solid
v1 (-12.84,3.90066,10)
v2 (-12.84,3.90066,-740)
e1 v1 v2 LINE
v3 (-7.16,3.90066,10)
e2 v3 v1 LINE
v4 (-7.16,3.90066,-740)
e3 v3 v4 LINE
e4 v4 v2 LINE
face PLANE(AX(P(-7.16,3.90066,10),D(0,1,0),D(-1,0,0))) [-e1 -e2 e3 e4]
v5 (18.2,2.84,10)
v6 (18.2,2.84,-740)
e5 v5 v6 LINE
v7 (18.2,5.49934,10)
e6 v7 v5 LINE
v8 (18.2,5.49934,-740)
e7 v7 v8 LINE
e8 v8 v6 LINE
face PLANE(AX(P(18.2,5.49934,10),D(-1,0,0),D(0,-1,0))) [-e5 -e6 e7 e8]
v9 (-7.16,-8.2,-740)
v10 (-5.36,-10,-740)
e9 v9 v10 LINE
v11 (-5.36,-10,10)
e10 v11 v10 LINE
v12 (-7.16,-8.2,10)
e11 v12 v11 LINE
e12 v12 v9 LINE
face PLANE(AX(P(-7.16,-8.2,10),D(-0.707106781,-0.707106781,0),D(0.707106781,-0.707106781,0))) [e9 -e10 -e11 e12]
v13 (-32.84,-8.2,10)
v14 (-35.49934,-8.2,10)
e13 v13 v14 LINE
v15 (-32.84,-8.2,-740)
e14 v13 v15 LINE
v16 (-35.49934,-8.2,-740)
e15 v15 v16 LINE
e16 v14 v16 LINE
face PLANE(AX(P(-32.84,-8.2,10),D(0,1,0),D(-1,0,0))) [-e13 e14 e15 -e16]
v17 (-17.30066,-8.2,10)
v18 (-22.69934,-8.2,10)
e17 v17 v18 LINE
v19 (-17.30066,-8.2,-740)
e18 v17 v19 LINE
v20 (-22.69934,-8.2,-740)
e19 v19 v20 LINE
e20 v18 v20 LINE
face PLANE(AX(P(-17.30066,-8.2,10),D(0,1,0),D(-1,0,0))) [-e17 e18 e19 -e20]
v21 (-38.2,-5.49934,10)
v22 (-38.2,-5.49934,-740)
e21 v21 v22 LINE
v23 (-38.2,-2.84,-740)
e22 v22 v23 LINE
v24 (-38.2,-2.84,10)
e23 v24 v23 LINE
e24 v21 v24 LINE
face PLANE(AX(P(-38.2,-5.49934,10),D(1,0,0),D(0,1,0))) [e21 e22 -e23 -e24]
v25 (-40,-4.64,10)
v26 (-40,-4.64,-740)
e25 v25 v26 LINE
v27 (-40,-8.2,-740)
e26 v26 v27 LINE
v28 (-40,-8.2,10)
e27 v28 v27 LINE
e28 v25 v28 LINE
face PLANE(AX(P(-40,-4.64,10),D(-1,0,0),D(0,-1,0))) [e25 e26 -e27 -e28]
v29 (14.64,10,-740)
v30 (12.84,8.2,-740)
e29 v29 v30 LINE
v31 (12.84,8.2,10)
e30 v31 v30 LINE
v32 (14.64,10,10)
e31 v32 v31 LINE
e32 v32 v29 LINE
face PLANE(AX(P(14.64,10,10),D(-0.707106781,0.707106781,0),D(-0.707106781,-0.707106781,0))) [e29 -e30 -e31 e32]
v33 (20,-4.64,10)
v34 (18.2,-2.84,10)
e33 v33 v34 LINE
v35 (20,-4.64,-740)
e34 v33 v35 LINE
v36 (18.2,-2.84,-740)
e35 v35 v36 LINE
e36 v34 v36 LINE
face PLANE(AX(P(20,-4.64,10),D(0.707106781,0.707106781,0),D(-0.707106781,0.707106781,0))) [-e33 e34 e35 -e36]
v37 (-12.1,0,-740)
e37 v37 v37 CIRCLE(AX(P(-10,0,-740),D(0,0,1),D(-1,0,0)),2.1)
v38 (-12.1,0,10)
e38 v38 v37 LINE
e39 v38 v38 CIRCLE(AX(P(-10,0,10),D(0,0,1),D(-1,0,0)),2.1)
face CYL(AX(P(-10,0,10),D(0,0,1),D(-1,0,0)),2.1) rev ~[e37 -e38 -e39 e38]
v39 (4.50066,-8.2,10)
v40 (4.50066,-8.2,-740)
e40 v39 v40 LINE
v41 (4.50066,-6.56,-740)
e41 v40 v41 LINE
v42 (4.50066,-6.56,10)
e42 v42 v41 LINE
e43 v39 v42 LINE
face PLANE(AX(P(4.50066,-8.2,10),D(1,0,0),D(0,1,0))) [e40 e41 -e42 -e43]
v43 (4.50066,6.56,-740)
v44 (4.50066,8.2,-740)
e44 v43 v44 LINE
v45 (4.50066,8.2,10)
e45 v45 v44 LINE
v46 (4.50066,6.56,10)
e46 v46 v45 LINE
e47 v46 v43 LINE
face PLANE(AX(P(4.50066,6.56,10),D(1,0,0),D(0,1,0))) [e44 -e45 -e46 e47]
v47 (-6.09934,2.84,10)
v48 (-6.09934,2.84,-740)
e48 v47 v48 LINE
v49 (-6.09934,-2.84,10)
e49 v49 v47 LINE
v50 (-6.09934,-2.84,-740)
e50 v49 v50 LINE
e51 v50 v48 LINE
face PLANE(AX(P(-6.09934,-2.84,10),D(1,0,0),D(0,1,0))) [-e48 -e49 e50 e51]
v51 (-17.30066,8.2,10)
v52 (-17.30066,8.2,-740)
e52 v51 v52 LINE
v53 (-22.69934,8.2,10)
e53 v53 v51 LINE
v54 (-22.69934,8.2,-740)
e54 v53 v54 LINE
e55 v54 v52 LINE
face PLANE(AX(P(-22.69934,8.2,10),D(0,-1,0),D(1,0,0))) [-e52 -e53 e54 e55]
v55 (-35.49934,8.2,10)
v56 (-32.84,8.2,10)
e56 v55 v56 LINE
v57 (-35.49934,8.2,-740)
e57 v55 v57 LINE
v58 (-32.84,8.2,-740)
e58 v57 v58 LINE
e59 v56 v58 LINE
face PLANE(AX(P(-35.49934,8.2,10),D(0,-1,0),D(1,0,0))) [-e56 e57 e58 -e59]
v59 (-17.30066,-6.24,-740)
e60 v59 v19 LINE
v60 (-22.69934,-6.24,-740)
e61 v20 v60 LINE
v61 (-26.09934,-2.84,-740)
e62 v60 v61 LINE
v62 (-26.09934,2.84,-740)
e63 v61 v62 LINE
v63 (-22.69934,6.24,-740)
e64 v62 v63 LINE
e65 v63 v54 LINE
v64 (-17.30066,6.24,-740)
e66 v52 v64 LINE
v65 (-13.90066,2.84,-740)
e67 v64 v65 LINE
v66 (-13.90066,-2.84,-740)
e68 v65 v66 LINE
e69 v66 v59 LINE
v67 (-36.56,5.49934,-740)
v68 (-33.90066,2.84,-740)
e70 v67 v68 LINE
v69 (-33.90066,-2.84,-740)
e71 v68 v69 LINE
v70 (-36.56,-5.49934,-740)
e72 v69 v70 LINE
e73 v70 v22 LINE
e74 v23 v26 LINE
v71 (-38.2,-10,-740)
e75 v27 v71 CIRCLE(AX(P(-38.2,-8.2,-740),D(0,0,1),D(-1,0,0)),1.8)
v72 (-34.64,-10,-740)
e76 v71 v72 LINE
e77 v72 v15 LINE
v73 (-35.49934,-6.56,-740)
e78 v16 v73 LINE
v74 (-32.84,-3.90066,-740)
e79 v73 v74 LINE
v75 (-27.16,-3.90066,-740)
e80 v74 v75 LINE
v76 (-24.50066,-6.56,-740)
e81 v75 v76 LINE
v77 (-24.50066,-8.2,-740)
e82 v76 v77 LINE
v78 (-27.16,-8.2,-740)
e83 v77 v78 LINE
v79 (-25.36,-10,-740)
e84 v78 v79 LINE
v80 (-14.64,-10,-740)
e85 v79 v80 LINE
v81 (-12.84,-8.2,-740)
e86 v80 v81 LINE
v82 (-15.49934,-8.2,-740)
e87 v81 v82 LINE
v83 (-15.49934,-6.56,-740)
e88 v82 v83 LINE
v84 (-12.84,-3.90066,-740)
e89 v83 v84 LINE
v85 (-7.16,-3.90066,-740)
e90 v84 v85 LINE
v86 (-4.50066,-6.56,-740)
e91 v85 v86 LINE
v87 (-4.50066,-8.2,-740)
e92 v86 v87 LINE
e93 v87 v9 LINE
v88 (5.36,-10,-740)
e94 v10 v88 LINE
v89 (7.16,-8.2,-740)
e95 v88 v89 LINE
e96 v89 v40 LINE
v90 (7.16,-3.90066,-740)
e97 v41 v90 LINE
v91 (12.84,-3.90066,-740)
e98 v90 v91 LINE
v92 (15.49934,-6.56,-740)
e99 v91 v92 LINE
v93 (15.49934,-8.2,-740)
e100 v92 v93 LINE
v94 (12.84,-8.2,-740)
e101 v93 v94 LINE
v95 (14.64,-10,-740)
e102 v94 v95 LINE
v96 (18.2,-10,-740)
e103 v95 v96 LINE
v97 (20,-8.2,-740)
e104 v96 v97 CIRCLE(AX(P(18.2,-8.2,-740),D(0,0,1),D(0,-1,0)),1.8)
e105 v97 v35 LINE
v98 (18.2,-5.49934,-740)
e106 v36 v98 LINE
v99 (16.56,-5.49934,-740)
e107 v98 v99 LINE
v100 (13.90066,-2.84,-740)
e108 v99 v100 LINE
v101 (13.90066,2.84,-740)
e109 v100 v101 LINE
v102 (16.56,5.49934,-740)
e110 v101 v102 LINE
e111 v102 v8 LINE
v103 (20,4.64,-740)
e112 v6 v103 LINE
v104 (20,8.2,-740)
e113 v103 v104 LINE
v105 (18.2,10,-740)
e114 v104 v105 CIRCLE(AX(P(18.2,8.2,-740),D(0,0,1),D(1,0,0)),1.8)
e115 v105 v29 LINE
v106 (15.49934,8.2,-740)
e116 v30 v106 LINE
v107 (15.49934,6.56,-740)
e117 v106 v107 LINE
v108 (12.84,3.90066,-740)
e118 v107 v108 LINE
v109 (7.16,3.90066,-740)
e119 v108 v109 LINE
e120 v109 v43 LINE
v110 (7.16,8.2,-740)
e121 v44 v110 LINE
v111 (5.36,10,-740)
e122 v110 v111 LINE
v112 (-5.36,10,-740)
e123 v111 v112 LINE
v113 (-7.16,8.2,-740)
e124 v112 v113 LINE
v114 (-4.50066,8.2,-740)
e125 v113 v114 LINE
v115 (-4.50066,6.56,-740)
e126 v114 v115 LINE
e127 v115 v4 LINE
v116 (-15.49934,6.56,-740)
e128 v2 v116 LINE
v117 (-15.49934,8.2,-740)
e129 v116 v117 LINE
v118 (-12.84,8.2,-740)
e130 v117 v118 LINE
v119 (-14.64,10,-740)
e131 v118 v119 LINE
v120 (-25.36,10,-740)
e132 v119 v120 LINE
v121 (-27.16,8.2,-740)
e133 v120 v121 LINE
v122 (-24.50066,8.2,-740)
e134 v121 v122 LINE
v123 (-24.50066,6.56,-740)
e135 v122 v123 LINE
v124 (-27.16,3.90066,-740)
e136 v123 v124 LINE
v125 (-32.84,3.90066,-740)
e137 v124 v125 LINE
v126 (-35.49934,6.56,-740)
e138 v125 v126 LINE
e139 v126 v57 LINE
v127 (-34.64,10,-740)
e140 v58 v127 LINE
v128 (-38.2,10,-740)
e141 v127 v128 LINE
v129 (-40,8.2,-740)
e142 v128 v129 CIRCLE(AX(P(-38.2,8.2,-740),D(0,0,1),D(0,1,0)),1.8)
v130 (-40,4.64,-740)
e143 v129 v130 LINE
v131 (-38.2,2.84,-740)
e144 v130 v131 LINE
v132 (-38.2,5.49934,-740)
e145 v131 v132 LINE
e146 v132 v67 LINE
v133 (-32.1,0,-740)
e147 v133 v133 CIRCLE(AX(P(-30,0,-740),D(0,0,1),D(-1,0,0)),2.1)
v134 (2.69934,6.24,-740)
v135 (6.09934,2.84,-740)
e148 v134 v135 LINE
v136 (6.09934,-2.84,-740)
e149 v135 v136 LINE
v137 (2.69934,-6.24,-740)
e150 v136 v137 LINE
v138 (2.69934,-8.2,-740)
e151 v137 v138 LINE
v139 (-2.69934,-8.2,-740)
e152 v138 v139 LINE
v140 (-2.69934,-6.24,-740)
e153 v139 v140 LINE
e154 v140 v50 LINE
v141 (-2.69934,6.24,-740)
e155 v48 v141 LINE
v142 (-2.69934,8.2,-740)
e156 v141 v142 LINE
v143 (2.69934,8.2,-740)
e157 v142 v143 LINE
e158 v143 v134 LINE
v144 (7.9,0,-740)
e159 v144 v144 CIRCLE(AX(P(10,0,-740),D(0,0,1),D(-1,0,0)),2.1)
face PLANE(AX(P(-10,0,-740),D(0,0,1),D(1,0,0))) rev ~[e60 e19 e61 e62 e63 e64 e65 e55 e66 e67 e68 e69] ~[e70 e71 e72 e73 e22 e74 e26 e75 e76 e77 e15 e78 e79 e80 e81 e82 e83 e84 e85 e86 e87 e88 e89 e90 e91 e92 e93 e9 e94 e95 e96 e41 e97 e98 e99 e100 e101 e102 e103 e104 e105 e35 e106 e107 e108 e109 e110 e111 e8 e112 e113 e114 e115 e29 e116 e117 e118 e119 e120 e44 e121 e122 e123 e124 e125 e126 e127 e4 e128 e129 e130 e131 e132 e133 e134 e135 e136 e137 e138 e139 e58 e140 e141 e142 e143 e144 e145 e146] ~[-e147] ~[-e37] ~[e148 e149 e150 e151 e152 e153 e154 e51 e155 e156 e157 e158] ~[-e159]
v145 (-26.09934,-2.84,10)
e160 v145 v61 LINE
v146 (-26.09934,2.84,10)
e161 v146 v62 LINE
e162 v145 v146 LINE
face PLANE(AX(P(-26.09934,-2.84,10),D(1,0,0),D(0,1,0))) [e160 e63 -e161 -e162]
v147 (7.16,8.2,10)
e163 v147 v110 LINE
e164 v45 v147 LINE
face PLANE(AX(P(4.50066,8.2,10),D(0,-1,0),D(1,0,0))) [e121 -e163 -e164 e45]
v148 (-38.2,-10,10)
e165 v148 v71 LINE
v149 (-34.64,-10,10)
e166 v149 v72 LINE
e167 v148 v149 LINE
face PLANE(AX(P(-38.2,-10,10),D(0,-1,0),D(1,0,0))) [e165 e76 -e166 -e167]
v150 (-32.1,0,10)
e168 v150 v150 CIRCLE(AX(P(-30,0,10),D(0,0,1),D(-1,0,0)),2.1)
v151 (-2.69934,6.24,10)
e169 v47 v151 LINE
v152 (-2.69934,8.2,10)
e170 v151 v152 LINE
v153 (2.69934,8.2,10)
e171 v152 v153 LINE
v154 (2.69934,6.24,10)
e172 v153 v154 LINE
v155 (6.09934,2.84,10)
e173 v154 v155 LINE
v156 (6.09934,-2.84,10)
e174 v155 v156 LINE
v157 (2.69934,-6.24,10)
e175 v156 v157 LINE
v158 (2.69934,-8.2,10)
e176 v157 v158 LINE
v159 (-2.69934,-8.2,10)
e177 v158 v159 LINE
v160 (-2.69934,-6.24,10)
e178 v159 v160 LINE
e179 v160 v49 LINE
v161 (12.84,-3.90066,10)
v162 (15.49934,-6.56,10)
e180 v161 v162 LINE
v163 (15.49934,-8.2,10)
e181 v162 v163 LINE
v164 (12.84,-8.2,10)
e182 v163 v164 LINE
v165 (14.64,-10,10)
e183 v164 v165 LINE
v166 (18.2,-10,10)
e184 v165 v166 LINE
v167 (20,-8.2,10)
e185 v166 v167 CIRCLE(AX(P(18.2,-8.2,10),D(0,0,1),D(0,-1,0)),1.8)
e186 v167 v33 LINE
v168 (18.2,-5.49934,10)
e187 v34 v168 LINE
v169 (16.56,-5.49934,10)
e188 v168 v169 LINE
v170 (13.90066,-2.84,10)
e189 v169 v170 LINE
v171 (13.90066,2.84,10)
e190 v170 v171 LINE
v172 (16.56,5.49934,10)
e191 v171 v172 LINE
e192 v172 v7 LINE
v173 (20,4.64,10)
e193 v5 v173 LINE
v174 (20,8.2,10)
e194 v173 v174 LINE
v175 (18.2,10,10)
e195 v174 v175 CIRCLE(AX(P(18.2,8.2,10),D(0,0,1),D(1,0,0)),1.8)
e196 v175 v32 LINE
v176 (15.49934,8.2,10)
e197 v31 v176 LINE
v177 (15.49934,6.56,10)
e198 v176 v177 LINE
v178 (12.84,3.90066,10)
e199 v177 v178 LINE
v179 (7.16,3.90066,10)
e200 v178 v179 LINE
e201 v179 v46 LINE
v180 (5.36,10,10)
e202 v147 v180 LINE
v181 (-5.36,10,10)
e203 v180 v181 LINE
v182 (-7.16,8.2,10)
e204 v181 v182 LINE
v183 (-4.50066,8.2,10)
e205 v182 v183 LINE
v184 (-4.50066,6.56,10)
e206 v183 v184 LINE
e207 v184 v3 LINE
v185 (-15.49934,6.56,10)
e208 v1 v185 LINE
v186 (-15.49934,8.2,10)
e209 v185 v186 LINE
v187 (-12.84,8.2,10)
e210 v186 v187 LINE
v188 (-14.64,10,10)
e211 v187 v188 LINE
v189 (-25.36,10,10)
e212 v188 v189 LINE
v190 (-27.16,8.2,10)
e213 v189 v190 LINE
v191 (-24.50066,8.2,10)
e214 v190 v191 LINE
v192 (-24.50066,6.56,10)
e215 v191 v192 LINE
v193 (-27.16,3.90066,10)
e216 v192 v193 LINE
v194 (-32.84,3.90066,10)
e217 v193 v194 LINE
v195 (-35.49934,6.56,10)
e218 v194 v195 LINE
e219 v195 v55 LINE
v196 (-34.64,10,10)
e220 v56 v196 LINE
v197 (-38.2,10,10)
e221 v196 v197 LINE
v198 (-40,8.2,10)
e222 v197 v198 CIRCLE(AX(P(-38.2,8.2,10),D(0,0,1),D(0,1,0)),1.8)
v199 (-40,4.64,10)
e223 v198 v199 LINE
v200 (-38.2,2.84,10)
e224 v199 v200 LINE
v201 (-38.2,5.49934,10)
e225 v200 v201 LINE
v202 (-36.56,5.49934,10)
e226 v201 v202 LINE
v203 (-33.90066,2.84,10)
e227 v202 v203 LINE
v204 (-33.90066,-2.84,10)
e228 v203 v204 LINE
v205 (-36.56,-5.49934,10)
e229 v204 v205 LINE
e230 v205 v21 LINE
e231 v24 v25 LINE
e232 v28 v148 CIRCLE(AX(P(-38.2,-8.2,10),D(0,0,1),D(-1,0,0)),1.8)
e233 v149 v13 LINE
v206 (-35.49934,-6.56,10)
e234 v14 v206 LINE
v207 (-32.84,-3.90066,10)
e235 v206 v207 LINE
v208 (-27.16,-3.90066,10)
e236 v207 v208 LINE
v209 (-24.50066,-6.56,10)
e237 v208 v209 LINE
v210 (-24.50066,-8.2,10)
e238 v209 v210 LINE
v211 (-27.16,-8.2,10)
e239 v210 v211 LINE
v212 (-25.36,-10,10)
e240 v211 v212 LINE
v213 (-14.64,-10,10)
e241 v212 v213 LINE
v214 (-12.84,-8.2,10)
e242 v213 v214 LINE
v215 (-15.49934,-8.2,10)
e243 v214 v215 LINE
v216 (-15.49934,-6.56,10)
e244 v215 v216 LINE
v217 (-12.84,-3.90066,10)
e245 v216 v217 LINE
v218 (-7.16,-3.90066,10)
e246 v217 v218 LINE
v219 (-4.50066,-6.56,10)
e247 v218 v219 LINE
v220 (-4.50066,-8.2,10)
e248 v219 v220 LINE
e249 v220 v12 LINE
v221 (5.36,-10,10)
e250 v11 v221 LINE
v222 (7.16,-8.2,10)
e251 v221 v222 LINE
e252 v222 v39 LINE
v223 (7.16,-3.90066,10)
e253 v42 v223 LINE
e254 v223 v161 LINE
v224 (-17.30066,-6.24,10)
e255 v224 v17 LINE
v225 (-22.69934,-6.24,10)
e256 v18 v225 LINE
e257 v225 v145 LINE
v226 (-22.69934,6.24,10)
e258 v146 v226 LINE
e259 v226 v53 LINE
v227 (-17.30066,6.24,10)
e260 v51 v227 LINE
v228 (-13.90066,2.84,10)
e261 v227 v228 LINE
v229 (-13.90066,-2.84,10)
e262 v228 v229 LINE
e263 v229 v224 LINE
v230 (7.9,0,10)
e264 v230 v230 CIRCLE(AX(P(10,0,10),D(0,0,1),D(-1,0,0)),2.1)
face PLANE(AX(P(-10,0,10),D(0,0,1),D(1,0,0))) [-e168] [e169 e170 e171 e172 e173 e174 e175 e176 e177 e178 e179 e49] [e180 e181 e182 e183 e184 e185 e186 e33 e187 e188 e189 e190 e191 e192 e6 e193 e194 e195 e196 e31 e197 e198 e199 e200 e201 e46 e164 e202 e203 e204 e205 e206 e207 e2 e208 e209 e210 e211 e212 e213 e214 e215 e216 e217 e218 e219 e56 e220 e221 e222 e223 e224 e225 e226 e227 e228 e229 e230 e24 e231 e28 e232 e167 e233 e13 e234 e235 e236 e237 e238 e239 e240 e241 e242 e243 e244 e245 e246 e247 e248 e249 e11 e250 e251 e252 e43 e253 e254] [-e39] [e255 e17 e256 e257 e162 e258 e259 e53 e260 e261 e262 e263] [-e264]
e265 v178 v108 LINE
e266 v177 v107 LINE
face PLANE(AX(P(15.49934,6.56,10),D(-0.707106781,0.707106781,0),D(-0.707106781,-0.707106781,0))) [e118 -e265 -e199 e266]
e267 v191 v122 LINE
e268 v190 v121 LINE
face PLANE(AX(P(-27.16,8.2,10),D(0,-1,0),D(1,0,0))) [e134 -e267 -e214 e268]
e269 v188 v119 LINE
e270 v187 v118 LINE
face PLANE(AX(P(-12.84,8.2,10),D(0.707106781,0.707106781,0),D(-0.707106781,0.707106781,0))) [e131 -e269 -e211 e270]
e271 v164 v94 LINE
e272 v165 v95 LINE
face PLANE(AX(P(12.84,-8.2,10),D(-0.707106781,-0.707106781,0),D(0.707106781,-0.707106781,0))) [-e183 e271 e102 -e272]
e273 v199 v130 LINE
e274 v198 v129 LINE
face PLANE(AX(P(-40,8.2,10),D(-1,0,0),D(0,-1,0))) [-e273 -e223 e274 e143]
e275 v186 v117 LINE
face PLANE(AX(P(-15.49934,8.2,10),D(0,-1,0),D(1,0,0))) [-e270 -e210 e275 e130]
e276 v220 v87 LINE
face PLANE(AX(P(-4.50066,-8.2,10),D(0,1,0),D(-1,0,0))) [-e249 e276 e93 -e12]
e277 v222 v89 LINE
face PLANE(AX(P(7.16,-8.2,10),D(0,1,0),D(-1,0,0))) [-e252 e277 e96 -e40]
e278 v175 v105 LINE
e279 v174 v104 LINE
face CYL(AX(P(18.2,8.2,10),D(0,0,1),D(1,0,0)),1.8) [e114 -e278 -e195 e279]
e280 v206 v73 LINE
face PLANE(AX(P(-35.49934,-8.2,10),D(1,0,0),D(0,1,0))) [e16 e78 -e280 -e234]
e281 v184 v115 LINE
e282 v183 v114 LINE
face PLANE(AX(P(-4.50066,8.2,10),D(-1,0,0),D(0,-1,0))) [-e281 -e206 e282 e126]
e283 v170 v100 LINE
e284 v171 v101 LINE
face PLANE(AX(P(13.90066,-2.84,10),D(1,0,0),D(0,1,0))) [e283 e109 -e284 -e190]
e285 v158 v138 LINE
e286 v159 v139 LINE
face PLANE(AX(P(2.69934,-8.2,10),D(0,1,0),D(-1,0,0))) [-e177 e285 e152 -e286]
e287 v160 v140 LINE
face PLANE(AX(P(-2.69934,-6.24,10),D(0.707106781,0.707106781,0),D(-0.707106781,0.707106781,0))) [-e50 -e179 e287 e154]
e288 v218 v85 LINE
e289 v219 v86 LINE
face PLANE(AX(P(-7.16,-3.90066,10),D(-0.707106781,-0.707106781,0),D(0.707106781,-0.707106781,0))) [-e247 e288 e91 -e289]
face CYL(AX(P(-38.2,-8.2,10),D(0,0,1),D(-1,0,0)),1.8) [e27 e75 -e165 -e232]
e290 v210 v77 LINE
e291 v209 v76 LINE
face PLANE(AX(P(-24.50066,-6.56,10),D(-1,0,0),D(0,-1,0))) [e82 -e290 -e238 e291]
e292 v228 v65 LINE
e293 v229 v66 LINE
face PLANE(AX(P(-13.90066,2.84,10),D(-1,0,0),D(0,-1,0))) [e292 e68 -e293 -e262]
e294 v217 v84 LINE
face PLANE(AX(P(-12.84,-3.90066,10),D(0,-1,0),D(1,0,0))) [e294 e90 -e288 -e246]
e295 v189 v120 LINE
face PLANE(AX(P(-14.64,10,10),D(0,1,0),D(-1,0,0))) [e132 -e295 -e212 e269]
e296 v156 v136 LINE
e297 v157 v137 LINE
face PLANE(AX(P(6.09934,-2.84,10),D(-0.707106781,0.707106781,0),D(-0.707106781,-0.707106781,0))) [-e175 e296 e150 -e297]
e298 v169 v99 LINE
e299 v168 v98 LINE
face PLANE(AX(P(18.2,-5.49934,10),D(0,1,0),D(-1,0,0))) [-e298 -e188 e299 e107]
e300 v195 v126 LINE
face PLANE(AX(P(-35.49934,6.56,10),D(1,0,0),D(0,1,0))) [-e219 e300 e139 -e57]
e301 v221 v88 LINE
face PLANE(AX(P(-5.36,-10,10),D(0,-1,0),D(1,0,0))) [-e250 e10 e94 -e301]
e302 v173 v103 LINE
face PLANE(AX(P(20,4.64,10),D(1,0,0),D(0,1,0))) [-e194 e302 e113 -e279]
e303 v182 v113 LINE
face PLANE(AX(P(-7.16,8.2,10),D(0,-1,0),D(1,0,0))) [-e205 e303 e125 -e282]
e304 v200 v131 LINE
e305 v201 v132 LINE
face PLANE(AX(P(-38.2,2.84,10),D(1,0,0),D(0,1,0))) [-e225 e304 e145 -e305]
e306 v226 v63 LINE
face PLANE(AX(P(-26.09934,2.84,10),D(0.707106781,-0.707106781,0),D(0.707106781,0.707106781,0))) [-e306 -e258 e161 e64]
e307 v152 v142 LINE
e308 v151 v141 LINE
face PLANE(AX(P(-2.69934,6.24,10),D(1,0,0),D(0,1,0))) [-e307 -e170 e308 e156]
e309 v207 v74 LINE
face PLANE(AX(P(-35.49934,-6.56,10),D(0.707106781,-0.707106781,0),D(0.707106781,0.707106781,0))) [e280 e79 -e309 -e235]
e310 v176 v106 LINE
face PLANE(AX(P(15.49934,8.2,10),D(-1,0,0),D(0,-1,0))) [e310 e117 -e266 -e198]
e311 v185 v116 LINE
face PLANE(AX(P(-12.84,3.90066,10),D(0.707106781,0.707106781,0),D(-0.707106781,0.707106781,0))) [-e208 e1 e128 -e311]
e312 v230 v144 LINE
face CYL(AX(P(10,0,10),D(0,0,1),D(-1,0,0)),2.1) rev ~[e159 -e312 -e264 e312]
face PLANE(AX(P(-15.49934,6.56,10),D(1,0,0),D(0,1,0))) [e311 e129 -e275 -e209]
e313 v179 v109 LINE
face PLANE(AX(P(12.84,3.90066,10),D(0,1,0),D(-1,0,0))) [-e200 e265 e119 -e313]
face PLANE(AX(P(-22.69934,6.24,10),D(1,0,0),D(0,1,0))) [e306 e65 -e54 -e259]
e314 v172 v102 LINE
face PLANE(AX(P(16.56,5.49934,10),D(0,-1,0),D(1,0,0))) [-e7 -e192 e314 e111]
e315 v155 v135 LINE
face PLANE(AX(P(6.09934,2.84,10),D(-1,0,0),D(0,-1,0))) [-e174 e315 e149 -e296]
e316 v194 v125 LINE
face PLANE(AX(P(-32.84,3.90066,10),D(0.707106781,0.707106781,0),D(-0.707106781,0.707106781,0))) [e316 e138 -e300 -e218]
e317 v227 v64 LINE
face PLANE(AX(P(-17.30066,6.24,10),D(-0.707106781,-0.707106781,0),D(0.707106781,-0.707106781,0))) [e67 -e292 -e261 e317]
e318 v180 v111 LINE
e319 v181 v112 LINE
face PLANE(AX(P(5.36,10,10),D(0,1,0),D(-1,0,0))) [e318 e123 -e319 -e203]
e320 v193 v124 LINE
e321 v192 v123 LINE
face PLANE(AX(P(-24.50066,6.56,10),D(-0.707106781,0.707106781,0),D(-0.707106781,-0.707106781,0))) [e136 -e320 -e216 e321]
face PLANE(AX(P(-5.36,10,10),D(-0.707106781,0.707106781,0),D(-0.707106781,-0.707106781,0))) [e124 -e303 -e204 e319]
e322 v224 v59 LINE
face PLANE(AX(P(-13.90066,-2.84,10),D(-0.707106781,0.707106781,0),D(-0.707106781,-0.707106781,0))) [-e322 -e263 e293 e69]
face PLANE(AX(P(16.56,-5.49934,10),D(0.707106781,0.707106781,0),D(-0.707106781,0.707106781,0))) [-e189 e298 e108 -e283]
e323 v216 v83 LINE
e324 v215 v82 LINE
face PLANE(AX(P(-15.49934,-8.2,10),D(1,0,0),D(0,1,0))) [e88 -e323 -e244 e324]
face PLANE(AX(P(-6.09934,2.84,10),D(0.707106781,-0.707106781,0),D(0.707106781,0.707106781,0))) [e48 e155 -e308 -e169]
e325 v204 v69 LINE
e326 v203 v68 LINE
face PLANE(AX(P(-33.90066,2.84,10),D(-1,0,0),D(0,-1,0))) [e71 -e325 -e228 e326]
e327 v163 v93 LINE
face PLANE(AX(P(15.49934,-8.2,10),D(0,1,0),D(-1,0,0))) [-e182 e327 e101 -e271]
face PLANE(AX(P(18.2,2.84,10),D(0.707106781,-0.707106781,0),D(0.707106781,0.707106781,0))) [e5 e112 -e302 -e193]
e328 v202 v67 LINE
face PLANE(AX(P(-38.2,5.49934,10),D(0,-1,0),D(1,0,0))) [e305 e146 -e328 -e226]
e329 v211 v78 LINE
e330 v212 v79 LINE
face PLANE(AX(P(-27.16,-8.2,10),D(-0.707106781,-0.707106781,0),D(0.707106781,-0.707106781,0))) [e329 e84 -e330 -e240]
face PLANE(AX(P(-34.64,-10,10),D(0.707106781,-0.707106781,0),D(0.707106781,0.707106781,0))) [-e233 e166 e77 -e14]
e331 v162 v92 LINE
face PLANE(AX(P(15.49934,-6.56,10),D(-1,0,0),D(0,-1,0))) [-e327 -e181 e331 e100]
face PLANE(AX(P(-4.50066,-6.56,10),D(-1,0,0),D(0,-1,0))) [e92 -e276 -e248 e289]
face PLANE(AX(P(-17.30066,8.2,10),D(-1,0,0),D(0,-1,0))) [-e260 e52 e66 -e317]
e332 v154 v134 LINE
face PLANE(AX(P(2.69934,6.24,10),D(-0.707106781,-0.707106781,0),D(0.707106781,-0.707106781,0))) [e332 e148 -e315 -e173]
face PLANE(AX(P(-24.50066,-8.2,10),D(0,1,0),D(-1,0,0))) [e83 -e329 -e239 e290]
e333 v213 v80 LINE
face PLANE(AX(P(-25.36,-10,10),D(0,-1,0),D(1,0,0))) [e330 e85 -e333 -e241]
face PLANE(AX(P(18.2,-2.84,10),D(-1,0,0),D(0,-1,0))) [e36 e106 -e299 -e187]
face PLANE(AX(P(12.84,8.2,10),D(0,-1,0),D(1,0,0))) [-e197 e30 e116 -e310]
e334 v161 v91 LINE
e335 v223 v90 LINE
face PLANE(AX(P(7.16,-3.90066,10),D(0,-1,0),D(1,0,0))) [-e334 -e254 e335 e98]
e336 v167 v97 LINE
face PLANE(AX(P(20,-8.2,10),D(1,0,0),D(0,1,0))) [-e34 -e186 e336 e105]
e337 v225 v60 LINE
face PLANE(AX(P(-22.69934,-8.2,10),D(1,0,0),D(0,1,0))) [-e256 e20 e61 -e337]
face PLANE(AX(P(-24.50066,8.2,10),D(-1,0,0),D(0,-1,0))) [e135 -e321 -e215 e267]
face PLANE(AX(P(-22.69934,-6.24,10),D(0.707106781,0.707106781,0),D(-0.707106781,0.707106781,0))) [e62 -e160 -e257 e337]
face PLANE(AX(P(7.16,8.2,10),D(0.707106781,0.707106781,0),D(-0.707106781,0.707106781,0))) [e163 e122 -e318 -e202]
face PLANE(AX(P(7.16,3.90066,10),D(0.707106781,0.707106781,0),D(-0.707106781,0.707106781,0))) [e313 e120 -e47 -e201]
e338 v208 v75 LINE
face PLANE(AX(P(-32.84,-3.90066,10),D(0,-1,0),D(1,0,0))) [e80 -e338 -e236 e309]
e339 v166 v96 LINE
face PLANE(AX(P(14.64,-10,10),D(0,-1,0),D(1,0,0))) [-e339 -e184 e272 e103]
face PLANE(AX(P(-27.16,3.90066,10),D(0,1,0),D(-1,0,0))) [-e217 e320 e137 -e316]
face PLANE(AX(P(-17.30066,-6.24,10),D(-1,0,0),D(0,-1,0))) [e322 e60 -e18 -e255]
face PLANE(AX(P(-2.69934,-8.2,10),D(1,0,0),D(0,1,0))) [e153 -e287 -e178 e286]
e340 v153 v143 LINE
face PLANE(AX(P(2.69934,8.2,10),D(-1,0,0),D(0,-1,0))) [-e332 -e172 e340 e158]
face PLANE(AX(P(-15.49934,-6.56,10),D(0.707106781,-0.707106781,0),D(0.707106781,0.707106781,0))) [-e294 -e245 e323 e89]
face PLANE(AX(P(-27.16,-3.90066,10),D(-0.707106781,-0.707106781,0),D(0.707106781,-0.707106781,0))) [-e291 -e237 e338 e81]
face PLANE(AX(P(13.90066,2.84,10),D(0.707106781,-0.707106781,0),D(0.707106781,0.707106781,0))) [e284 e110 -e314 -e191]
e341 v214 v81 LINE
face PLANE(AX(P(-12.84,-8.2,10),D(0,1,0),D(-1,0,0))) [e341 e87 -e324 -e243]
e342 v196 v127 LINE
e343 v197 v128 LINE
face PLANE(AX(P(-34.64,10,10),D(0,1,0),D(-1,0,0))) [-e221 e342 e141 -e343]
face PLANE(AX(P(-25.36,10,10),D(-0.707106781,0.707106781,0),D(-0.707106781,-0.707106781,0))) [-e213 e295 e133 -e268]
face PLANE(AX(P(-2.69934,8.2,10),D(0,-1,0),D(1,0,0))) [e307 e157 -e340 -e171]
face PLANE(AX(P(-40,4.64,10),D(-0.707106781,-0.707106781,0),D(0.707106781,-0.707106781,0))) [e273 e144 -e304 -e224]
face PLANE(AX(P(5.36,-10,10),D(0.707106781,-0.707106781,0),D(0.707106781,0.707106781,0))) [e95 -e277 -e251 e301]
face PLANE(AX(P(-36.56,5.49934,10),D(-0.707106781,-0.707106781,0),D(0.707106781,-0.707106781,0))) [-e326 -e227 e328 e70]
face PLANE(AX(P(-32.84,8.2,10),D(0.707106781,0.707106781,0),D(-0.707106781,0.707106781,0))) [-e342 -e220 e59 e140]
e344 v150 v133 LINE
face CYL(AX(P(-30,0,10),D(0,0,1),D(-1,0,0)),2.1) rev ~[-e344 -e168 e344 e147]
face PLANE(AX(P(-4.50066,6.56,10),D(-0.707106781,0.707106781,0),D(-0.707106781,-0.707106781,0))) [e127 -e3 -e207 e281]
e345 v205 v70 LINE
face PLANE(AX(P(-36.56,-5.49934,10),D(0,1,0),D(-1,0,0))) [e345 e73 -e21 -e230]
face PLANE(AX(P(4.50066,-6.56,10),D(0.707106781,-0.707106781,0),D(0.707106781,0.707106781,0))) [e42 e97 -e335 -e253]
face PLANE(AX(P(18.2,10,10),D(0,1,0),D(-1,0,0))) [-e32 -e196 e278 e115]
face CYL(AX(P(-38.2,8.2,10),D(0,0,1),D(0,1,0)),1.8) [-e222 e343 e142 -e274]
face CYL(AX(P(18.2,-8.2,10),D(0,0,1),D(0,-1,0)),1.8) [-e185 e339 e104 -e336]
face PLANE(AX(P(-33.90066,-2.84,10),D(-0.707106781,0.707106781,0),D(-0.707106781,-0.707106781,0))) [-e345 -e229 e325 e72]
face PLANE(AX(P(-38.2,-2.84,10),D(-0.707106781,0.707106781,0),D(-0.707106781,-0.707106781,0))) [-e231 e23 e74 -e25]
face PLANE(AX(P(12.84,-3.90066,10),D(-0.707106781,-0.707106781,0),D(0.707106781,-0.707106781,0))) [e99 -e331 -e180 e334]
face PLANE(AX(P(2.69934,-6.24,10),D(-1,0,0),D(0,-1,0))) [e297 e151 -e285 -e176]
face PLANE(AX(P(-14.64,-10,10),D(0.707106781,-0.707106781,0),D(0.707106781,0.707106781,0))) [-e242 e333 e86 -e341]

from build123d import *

# Parameters (mm, degrees)
SKETCH1_R           = 2.1
BOSS_EXTRUDE1_DEPTH = 750


with BuildPart() as part:
    # Sketch1 → Boss-Extrude1 (new body)
    with BuildSketch(Plane.XY.offset(10)):
        with BuildLine():
            Line((-12.84, -8.2), (-15.499339828, -8.2))
            Line((-15.499339828, -8.2), (-15.499339828, -6.56))
            Line((-15.499339828, -6.56), (-12.84, -3.900660172))
            Line((-12.84, -3.900660172), (-7.16, -3.900660172))
            Line((-7.16, -3.900660172), (-4.500660172, -6.56))
            Line((-4.500660172, -6.56), (-4.500660172, -8.2))
            Line((-4.500660172, -8.2), (-7.16, -8.2))
            Line((-7.16, -8.2), (-5.36, -10))
            Line((-5.36, -10), (5.36, -10))
            Line((5.36, -10), (7.16, -8.2))
            Line((7.16, -8.2), (4.500660172, -8.2))
            Line((4.500660172, -8.2), (4.500660172, -6.56))
            Line((4.500660172, -6.56), (7.16, -3.900660172))
            Line((7.16, -3.900660172), (12.84, -3.900660172))
            Line((12.84, -3.900660172), (15.499339828, -6.56))
            Line((15.499339828, -6.56), (15.499339828, -8.2))
            Line((15.499339828, -8.2), (12.84, -8.2))
            Line((12.84, -8.2), (14.64, -10))
            Line((14.64, -10), (18.2, -10))
            ThreePointArc((18.2, -10), (19.472792206, -9.472792206), (20, -8.2))
            Line((20, -8.2), (20, -4.64))
            Line((20, -4.64), (18.2, -2.84))
            Line((18.2, -2.84), (18.2, -5.499339828))
            Line((18.2, -5.499339828), (16.56, -5.499339828))
            Line((16.56, -5.499339828), (13.900660172, -2.84))
            Line((13.900660172, -2.84), (13.900660172, 2.84))
            Line((13.900660172, 2.84), (16.56, 5.499339828))
            Line((16.56, 5.499339828), (18.2, 5.499339828))
            Line((18.2, 5.499339828), (18.2, 2.84))
            Line((18.2, 2.84), (20, 4.64))
            Line((20, 4.64), (20, 8.2))
            ThreePointArc((20, 8.2), (19.472792206, 9.472792206), (18.2, 10))
            Line((18.2, 10), (14.64, 10))
            Line((14.64, 10), (12.84, 8.2))
            Line((12.84, 8.2), (15.499339828, 8.2))
            Line((15.499339828, 8.2), (15.499339828, 6.56))
            Line((15.499339828, 6.56), (12.84, 3.900660172))
            Line((12.84, 3.900660172), (7.16, 3.900660172))
            Line((7.16, 3.900660172), (4.500660172, 6.56))
            Line((4.500660172, 6.56), (4.500660172, 8.2))
            Line((4.500660172, 8.2), (7.16, 8.2))
            Line((7.16, 8.2), (5.36, 10))
            Line((5.36, 10), (-5.36, 10))
            Line((-5.36, 10), (-7.16, 8.2))
            Line((-7.16, 8.2), (-4.500660172, 8.2))
            Line((-4.500660172, 8.2), (-4.500660172, 6.56))
            Line((-4.500660172, 6.56), (-7.16, 3.900660172))
            Line((-7.16, 3.900660172), (-12.84, 3.900660172))
            Line((-12.84, 3.900660172), (-15.499339828, 6.56))
            Line((-15.499339828, 6.56), (-15.499339828, 8.2))
            Line((-15.499339828, 8.2), (-12.84, 8.2))
            Line((-12.84, 8.2), (-14.64, 10))
            Line((-14.64, 10), (-25.36, 10))
            Line((-25.36, 10), (-27.16, 8.2))
            Line((-27.16, 8.2), (-24.500660172, 8.2))
            Line((-24.500660172, 8.2), (-24.500660172, 6.56))
            Line((-24.500660172, 6.56), (-27.16, 3.900660172))
            Line((-27.16, 3.900660172), (-32.84, 3.900660172))
            Line((-32.84, 3.900660172), (-35.499339828, 6.56))
            Line((-35.499339828, 6.56), (-35.499339828, 8.2))
            Line((-35.499339828, 8.2), (-32.84, 8.2))
            Line((-32.84, 8.2), (-34.64, 10))
            Line((-34.64, 10), (-38.2, 10))
            ThreePointArc((-38.2, 10), (-39.472792206, 9.472792206), (-40, 8.2))
            Line((-40, 8.2), (-40, 4.64))
            Line((-40, 4.64), (-38.2, 2.84))
            Line((-38.2, 2.84), (-38.2, 5.499339828))
            Line((-38.2, 5.499339828), (-36.56, 5.499339828))
            Line((-36.56, 5.499339828), (-33.900660172, 2.84))
            Line((-33.900660172, 2.84), (-33.900660172, -2.84))
            Line((-33.900660172, -2.84), (-36.56, -5.499339828))
            Line((-36.56, -5.499339828), (-38.2, -5.499339828))
            Line((-38.2, -5.499339828), (-38.2, -2.84))
            Line((-38.2, -2.84), (-40, -4.64))
            Line((-40, -4.64), (-40, -8.2))
            ThreePointArc((-40, -8.2), (-39.472792206, -9.472792206), (-38.2, -10))
            Line((-38.2, -10), (-34.64, -10))
            Line((-34.64, -10), (-32.84, -8.2))
            Line((-32.84, -8.2), (-35.499339828, -8.2))
            Line((-35.499339828, -8.2), (-35.499339828, -6.56))
            Line((-35.499339828, -6.56), (-32.84, -3.900660172))
            Line((-32.84, -3.900660172), (-27.16, -3.900660172))
            Line((-27.16, -3.900660172), (-24.500660172, -6.56))
            Line((-24.500660172, -6.56), (-24.500660172, -8.2))
            Line((-24.500660172, -8.2), (-27.16, -8.2))
            Line((-27.16, -8.2), (-25.36, -10))
            Line((-25.36, -10), (-14.64, -10))
            Line((-14.64, -10), (-12.84, -8.2))
        make_face()
        with Locations(Location((-10, 0, 0), (0, 0, 180))):
            Circle(SKETCH1_R, mode=Mode.SUBTRACT)
        with Locations(Location((-30, 0, 0), (0, 0, 180))):
            Circle(SKETCH1_R, mode=Mode.SUBTRACT)
        with Locations(Location((10, 0, 0), (0, 0, 180))):
            Circle(SKETCH1_R, mode=Mode.SUBTRACT)
        Polygon((-13.900660172, 2.84), (-13.900660172, -2.84), (-17.300660172, -6.24), (-17.300660172, -8.2), (-22.699339828, -8.2), (-22.699339828, -6.24), (-26.099339828, -2.84), (-26.099339828, 2.84), (-22.699339828, 6.24), (-22.699339828, 8.2), (-17.300660172, 8.2), (-17.300660172, 6.24), align=None, mode=Mode.SUBTRACT)
        Polygon((-6.099339828, -2.84), (-6.099339828, 2.84), (-2.699339828, 6.24), (-2.699339828, 8.2), (2.699339828, 8.2), (2.699339828, 6.24), (6.099339828, 2.84), (6.099339828, -2.84), (2.699339828, -6.24), (2.699339828, -8.2), (-2.699339828, -8.2), (-2.699339828, -6.24), align=None, mode=Mode.SUBTRACT)
    extrude(amount=-BOSS_EXTRUDE1_DEPTH)


solid = part.part
